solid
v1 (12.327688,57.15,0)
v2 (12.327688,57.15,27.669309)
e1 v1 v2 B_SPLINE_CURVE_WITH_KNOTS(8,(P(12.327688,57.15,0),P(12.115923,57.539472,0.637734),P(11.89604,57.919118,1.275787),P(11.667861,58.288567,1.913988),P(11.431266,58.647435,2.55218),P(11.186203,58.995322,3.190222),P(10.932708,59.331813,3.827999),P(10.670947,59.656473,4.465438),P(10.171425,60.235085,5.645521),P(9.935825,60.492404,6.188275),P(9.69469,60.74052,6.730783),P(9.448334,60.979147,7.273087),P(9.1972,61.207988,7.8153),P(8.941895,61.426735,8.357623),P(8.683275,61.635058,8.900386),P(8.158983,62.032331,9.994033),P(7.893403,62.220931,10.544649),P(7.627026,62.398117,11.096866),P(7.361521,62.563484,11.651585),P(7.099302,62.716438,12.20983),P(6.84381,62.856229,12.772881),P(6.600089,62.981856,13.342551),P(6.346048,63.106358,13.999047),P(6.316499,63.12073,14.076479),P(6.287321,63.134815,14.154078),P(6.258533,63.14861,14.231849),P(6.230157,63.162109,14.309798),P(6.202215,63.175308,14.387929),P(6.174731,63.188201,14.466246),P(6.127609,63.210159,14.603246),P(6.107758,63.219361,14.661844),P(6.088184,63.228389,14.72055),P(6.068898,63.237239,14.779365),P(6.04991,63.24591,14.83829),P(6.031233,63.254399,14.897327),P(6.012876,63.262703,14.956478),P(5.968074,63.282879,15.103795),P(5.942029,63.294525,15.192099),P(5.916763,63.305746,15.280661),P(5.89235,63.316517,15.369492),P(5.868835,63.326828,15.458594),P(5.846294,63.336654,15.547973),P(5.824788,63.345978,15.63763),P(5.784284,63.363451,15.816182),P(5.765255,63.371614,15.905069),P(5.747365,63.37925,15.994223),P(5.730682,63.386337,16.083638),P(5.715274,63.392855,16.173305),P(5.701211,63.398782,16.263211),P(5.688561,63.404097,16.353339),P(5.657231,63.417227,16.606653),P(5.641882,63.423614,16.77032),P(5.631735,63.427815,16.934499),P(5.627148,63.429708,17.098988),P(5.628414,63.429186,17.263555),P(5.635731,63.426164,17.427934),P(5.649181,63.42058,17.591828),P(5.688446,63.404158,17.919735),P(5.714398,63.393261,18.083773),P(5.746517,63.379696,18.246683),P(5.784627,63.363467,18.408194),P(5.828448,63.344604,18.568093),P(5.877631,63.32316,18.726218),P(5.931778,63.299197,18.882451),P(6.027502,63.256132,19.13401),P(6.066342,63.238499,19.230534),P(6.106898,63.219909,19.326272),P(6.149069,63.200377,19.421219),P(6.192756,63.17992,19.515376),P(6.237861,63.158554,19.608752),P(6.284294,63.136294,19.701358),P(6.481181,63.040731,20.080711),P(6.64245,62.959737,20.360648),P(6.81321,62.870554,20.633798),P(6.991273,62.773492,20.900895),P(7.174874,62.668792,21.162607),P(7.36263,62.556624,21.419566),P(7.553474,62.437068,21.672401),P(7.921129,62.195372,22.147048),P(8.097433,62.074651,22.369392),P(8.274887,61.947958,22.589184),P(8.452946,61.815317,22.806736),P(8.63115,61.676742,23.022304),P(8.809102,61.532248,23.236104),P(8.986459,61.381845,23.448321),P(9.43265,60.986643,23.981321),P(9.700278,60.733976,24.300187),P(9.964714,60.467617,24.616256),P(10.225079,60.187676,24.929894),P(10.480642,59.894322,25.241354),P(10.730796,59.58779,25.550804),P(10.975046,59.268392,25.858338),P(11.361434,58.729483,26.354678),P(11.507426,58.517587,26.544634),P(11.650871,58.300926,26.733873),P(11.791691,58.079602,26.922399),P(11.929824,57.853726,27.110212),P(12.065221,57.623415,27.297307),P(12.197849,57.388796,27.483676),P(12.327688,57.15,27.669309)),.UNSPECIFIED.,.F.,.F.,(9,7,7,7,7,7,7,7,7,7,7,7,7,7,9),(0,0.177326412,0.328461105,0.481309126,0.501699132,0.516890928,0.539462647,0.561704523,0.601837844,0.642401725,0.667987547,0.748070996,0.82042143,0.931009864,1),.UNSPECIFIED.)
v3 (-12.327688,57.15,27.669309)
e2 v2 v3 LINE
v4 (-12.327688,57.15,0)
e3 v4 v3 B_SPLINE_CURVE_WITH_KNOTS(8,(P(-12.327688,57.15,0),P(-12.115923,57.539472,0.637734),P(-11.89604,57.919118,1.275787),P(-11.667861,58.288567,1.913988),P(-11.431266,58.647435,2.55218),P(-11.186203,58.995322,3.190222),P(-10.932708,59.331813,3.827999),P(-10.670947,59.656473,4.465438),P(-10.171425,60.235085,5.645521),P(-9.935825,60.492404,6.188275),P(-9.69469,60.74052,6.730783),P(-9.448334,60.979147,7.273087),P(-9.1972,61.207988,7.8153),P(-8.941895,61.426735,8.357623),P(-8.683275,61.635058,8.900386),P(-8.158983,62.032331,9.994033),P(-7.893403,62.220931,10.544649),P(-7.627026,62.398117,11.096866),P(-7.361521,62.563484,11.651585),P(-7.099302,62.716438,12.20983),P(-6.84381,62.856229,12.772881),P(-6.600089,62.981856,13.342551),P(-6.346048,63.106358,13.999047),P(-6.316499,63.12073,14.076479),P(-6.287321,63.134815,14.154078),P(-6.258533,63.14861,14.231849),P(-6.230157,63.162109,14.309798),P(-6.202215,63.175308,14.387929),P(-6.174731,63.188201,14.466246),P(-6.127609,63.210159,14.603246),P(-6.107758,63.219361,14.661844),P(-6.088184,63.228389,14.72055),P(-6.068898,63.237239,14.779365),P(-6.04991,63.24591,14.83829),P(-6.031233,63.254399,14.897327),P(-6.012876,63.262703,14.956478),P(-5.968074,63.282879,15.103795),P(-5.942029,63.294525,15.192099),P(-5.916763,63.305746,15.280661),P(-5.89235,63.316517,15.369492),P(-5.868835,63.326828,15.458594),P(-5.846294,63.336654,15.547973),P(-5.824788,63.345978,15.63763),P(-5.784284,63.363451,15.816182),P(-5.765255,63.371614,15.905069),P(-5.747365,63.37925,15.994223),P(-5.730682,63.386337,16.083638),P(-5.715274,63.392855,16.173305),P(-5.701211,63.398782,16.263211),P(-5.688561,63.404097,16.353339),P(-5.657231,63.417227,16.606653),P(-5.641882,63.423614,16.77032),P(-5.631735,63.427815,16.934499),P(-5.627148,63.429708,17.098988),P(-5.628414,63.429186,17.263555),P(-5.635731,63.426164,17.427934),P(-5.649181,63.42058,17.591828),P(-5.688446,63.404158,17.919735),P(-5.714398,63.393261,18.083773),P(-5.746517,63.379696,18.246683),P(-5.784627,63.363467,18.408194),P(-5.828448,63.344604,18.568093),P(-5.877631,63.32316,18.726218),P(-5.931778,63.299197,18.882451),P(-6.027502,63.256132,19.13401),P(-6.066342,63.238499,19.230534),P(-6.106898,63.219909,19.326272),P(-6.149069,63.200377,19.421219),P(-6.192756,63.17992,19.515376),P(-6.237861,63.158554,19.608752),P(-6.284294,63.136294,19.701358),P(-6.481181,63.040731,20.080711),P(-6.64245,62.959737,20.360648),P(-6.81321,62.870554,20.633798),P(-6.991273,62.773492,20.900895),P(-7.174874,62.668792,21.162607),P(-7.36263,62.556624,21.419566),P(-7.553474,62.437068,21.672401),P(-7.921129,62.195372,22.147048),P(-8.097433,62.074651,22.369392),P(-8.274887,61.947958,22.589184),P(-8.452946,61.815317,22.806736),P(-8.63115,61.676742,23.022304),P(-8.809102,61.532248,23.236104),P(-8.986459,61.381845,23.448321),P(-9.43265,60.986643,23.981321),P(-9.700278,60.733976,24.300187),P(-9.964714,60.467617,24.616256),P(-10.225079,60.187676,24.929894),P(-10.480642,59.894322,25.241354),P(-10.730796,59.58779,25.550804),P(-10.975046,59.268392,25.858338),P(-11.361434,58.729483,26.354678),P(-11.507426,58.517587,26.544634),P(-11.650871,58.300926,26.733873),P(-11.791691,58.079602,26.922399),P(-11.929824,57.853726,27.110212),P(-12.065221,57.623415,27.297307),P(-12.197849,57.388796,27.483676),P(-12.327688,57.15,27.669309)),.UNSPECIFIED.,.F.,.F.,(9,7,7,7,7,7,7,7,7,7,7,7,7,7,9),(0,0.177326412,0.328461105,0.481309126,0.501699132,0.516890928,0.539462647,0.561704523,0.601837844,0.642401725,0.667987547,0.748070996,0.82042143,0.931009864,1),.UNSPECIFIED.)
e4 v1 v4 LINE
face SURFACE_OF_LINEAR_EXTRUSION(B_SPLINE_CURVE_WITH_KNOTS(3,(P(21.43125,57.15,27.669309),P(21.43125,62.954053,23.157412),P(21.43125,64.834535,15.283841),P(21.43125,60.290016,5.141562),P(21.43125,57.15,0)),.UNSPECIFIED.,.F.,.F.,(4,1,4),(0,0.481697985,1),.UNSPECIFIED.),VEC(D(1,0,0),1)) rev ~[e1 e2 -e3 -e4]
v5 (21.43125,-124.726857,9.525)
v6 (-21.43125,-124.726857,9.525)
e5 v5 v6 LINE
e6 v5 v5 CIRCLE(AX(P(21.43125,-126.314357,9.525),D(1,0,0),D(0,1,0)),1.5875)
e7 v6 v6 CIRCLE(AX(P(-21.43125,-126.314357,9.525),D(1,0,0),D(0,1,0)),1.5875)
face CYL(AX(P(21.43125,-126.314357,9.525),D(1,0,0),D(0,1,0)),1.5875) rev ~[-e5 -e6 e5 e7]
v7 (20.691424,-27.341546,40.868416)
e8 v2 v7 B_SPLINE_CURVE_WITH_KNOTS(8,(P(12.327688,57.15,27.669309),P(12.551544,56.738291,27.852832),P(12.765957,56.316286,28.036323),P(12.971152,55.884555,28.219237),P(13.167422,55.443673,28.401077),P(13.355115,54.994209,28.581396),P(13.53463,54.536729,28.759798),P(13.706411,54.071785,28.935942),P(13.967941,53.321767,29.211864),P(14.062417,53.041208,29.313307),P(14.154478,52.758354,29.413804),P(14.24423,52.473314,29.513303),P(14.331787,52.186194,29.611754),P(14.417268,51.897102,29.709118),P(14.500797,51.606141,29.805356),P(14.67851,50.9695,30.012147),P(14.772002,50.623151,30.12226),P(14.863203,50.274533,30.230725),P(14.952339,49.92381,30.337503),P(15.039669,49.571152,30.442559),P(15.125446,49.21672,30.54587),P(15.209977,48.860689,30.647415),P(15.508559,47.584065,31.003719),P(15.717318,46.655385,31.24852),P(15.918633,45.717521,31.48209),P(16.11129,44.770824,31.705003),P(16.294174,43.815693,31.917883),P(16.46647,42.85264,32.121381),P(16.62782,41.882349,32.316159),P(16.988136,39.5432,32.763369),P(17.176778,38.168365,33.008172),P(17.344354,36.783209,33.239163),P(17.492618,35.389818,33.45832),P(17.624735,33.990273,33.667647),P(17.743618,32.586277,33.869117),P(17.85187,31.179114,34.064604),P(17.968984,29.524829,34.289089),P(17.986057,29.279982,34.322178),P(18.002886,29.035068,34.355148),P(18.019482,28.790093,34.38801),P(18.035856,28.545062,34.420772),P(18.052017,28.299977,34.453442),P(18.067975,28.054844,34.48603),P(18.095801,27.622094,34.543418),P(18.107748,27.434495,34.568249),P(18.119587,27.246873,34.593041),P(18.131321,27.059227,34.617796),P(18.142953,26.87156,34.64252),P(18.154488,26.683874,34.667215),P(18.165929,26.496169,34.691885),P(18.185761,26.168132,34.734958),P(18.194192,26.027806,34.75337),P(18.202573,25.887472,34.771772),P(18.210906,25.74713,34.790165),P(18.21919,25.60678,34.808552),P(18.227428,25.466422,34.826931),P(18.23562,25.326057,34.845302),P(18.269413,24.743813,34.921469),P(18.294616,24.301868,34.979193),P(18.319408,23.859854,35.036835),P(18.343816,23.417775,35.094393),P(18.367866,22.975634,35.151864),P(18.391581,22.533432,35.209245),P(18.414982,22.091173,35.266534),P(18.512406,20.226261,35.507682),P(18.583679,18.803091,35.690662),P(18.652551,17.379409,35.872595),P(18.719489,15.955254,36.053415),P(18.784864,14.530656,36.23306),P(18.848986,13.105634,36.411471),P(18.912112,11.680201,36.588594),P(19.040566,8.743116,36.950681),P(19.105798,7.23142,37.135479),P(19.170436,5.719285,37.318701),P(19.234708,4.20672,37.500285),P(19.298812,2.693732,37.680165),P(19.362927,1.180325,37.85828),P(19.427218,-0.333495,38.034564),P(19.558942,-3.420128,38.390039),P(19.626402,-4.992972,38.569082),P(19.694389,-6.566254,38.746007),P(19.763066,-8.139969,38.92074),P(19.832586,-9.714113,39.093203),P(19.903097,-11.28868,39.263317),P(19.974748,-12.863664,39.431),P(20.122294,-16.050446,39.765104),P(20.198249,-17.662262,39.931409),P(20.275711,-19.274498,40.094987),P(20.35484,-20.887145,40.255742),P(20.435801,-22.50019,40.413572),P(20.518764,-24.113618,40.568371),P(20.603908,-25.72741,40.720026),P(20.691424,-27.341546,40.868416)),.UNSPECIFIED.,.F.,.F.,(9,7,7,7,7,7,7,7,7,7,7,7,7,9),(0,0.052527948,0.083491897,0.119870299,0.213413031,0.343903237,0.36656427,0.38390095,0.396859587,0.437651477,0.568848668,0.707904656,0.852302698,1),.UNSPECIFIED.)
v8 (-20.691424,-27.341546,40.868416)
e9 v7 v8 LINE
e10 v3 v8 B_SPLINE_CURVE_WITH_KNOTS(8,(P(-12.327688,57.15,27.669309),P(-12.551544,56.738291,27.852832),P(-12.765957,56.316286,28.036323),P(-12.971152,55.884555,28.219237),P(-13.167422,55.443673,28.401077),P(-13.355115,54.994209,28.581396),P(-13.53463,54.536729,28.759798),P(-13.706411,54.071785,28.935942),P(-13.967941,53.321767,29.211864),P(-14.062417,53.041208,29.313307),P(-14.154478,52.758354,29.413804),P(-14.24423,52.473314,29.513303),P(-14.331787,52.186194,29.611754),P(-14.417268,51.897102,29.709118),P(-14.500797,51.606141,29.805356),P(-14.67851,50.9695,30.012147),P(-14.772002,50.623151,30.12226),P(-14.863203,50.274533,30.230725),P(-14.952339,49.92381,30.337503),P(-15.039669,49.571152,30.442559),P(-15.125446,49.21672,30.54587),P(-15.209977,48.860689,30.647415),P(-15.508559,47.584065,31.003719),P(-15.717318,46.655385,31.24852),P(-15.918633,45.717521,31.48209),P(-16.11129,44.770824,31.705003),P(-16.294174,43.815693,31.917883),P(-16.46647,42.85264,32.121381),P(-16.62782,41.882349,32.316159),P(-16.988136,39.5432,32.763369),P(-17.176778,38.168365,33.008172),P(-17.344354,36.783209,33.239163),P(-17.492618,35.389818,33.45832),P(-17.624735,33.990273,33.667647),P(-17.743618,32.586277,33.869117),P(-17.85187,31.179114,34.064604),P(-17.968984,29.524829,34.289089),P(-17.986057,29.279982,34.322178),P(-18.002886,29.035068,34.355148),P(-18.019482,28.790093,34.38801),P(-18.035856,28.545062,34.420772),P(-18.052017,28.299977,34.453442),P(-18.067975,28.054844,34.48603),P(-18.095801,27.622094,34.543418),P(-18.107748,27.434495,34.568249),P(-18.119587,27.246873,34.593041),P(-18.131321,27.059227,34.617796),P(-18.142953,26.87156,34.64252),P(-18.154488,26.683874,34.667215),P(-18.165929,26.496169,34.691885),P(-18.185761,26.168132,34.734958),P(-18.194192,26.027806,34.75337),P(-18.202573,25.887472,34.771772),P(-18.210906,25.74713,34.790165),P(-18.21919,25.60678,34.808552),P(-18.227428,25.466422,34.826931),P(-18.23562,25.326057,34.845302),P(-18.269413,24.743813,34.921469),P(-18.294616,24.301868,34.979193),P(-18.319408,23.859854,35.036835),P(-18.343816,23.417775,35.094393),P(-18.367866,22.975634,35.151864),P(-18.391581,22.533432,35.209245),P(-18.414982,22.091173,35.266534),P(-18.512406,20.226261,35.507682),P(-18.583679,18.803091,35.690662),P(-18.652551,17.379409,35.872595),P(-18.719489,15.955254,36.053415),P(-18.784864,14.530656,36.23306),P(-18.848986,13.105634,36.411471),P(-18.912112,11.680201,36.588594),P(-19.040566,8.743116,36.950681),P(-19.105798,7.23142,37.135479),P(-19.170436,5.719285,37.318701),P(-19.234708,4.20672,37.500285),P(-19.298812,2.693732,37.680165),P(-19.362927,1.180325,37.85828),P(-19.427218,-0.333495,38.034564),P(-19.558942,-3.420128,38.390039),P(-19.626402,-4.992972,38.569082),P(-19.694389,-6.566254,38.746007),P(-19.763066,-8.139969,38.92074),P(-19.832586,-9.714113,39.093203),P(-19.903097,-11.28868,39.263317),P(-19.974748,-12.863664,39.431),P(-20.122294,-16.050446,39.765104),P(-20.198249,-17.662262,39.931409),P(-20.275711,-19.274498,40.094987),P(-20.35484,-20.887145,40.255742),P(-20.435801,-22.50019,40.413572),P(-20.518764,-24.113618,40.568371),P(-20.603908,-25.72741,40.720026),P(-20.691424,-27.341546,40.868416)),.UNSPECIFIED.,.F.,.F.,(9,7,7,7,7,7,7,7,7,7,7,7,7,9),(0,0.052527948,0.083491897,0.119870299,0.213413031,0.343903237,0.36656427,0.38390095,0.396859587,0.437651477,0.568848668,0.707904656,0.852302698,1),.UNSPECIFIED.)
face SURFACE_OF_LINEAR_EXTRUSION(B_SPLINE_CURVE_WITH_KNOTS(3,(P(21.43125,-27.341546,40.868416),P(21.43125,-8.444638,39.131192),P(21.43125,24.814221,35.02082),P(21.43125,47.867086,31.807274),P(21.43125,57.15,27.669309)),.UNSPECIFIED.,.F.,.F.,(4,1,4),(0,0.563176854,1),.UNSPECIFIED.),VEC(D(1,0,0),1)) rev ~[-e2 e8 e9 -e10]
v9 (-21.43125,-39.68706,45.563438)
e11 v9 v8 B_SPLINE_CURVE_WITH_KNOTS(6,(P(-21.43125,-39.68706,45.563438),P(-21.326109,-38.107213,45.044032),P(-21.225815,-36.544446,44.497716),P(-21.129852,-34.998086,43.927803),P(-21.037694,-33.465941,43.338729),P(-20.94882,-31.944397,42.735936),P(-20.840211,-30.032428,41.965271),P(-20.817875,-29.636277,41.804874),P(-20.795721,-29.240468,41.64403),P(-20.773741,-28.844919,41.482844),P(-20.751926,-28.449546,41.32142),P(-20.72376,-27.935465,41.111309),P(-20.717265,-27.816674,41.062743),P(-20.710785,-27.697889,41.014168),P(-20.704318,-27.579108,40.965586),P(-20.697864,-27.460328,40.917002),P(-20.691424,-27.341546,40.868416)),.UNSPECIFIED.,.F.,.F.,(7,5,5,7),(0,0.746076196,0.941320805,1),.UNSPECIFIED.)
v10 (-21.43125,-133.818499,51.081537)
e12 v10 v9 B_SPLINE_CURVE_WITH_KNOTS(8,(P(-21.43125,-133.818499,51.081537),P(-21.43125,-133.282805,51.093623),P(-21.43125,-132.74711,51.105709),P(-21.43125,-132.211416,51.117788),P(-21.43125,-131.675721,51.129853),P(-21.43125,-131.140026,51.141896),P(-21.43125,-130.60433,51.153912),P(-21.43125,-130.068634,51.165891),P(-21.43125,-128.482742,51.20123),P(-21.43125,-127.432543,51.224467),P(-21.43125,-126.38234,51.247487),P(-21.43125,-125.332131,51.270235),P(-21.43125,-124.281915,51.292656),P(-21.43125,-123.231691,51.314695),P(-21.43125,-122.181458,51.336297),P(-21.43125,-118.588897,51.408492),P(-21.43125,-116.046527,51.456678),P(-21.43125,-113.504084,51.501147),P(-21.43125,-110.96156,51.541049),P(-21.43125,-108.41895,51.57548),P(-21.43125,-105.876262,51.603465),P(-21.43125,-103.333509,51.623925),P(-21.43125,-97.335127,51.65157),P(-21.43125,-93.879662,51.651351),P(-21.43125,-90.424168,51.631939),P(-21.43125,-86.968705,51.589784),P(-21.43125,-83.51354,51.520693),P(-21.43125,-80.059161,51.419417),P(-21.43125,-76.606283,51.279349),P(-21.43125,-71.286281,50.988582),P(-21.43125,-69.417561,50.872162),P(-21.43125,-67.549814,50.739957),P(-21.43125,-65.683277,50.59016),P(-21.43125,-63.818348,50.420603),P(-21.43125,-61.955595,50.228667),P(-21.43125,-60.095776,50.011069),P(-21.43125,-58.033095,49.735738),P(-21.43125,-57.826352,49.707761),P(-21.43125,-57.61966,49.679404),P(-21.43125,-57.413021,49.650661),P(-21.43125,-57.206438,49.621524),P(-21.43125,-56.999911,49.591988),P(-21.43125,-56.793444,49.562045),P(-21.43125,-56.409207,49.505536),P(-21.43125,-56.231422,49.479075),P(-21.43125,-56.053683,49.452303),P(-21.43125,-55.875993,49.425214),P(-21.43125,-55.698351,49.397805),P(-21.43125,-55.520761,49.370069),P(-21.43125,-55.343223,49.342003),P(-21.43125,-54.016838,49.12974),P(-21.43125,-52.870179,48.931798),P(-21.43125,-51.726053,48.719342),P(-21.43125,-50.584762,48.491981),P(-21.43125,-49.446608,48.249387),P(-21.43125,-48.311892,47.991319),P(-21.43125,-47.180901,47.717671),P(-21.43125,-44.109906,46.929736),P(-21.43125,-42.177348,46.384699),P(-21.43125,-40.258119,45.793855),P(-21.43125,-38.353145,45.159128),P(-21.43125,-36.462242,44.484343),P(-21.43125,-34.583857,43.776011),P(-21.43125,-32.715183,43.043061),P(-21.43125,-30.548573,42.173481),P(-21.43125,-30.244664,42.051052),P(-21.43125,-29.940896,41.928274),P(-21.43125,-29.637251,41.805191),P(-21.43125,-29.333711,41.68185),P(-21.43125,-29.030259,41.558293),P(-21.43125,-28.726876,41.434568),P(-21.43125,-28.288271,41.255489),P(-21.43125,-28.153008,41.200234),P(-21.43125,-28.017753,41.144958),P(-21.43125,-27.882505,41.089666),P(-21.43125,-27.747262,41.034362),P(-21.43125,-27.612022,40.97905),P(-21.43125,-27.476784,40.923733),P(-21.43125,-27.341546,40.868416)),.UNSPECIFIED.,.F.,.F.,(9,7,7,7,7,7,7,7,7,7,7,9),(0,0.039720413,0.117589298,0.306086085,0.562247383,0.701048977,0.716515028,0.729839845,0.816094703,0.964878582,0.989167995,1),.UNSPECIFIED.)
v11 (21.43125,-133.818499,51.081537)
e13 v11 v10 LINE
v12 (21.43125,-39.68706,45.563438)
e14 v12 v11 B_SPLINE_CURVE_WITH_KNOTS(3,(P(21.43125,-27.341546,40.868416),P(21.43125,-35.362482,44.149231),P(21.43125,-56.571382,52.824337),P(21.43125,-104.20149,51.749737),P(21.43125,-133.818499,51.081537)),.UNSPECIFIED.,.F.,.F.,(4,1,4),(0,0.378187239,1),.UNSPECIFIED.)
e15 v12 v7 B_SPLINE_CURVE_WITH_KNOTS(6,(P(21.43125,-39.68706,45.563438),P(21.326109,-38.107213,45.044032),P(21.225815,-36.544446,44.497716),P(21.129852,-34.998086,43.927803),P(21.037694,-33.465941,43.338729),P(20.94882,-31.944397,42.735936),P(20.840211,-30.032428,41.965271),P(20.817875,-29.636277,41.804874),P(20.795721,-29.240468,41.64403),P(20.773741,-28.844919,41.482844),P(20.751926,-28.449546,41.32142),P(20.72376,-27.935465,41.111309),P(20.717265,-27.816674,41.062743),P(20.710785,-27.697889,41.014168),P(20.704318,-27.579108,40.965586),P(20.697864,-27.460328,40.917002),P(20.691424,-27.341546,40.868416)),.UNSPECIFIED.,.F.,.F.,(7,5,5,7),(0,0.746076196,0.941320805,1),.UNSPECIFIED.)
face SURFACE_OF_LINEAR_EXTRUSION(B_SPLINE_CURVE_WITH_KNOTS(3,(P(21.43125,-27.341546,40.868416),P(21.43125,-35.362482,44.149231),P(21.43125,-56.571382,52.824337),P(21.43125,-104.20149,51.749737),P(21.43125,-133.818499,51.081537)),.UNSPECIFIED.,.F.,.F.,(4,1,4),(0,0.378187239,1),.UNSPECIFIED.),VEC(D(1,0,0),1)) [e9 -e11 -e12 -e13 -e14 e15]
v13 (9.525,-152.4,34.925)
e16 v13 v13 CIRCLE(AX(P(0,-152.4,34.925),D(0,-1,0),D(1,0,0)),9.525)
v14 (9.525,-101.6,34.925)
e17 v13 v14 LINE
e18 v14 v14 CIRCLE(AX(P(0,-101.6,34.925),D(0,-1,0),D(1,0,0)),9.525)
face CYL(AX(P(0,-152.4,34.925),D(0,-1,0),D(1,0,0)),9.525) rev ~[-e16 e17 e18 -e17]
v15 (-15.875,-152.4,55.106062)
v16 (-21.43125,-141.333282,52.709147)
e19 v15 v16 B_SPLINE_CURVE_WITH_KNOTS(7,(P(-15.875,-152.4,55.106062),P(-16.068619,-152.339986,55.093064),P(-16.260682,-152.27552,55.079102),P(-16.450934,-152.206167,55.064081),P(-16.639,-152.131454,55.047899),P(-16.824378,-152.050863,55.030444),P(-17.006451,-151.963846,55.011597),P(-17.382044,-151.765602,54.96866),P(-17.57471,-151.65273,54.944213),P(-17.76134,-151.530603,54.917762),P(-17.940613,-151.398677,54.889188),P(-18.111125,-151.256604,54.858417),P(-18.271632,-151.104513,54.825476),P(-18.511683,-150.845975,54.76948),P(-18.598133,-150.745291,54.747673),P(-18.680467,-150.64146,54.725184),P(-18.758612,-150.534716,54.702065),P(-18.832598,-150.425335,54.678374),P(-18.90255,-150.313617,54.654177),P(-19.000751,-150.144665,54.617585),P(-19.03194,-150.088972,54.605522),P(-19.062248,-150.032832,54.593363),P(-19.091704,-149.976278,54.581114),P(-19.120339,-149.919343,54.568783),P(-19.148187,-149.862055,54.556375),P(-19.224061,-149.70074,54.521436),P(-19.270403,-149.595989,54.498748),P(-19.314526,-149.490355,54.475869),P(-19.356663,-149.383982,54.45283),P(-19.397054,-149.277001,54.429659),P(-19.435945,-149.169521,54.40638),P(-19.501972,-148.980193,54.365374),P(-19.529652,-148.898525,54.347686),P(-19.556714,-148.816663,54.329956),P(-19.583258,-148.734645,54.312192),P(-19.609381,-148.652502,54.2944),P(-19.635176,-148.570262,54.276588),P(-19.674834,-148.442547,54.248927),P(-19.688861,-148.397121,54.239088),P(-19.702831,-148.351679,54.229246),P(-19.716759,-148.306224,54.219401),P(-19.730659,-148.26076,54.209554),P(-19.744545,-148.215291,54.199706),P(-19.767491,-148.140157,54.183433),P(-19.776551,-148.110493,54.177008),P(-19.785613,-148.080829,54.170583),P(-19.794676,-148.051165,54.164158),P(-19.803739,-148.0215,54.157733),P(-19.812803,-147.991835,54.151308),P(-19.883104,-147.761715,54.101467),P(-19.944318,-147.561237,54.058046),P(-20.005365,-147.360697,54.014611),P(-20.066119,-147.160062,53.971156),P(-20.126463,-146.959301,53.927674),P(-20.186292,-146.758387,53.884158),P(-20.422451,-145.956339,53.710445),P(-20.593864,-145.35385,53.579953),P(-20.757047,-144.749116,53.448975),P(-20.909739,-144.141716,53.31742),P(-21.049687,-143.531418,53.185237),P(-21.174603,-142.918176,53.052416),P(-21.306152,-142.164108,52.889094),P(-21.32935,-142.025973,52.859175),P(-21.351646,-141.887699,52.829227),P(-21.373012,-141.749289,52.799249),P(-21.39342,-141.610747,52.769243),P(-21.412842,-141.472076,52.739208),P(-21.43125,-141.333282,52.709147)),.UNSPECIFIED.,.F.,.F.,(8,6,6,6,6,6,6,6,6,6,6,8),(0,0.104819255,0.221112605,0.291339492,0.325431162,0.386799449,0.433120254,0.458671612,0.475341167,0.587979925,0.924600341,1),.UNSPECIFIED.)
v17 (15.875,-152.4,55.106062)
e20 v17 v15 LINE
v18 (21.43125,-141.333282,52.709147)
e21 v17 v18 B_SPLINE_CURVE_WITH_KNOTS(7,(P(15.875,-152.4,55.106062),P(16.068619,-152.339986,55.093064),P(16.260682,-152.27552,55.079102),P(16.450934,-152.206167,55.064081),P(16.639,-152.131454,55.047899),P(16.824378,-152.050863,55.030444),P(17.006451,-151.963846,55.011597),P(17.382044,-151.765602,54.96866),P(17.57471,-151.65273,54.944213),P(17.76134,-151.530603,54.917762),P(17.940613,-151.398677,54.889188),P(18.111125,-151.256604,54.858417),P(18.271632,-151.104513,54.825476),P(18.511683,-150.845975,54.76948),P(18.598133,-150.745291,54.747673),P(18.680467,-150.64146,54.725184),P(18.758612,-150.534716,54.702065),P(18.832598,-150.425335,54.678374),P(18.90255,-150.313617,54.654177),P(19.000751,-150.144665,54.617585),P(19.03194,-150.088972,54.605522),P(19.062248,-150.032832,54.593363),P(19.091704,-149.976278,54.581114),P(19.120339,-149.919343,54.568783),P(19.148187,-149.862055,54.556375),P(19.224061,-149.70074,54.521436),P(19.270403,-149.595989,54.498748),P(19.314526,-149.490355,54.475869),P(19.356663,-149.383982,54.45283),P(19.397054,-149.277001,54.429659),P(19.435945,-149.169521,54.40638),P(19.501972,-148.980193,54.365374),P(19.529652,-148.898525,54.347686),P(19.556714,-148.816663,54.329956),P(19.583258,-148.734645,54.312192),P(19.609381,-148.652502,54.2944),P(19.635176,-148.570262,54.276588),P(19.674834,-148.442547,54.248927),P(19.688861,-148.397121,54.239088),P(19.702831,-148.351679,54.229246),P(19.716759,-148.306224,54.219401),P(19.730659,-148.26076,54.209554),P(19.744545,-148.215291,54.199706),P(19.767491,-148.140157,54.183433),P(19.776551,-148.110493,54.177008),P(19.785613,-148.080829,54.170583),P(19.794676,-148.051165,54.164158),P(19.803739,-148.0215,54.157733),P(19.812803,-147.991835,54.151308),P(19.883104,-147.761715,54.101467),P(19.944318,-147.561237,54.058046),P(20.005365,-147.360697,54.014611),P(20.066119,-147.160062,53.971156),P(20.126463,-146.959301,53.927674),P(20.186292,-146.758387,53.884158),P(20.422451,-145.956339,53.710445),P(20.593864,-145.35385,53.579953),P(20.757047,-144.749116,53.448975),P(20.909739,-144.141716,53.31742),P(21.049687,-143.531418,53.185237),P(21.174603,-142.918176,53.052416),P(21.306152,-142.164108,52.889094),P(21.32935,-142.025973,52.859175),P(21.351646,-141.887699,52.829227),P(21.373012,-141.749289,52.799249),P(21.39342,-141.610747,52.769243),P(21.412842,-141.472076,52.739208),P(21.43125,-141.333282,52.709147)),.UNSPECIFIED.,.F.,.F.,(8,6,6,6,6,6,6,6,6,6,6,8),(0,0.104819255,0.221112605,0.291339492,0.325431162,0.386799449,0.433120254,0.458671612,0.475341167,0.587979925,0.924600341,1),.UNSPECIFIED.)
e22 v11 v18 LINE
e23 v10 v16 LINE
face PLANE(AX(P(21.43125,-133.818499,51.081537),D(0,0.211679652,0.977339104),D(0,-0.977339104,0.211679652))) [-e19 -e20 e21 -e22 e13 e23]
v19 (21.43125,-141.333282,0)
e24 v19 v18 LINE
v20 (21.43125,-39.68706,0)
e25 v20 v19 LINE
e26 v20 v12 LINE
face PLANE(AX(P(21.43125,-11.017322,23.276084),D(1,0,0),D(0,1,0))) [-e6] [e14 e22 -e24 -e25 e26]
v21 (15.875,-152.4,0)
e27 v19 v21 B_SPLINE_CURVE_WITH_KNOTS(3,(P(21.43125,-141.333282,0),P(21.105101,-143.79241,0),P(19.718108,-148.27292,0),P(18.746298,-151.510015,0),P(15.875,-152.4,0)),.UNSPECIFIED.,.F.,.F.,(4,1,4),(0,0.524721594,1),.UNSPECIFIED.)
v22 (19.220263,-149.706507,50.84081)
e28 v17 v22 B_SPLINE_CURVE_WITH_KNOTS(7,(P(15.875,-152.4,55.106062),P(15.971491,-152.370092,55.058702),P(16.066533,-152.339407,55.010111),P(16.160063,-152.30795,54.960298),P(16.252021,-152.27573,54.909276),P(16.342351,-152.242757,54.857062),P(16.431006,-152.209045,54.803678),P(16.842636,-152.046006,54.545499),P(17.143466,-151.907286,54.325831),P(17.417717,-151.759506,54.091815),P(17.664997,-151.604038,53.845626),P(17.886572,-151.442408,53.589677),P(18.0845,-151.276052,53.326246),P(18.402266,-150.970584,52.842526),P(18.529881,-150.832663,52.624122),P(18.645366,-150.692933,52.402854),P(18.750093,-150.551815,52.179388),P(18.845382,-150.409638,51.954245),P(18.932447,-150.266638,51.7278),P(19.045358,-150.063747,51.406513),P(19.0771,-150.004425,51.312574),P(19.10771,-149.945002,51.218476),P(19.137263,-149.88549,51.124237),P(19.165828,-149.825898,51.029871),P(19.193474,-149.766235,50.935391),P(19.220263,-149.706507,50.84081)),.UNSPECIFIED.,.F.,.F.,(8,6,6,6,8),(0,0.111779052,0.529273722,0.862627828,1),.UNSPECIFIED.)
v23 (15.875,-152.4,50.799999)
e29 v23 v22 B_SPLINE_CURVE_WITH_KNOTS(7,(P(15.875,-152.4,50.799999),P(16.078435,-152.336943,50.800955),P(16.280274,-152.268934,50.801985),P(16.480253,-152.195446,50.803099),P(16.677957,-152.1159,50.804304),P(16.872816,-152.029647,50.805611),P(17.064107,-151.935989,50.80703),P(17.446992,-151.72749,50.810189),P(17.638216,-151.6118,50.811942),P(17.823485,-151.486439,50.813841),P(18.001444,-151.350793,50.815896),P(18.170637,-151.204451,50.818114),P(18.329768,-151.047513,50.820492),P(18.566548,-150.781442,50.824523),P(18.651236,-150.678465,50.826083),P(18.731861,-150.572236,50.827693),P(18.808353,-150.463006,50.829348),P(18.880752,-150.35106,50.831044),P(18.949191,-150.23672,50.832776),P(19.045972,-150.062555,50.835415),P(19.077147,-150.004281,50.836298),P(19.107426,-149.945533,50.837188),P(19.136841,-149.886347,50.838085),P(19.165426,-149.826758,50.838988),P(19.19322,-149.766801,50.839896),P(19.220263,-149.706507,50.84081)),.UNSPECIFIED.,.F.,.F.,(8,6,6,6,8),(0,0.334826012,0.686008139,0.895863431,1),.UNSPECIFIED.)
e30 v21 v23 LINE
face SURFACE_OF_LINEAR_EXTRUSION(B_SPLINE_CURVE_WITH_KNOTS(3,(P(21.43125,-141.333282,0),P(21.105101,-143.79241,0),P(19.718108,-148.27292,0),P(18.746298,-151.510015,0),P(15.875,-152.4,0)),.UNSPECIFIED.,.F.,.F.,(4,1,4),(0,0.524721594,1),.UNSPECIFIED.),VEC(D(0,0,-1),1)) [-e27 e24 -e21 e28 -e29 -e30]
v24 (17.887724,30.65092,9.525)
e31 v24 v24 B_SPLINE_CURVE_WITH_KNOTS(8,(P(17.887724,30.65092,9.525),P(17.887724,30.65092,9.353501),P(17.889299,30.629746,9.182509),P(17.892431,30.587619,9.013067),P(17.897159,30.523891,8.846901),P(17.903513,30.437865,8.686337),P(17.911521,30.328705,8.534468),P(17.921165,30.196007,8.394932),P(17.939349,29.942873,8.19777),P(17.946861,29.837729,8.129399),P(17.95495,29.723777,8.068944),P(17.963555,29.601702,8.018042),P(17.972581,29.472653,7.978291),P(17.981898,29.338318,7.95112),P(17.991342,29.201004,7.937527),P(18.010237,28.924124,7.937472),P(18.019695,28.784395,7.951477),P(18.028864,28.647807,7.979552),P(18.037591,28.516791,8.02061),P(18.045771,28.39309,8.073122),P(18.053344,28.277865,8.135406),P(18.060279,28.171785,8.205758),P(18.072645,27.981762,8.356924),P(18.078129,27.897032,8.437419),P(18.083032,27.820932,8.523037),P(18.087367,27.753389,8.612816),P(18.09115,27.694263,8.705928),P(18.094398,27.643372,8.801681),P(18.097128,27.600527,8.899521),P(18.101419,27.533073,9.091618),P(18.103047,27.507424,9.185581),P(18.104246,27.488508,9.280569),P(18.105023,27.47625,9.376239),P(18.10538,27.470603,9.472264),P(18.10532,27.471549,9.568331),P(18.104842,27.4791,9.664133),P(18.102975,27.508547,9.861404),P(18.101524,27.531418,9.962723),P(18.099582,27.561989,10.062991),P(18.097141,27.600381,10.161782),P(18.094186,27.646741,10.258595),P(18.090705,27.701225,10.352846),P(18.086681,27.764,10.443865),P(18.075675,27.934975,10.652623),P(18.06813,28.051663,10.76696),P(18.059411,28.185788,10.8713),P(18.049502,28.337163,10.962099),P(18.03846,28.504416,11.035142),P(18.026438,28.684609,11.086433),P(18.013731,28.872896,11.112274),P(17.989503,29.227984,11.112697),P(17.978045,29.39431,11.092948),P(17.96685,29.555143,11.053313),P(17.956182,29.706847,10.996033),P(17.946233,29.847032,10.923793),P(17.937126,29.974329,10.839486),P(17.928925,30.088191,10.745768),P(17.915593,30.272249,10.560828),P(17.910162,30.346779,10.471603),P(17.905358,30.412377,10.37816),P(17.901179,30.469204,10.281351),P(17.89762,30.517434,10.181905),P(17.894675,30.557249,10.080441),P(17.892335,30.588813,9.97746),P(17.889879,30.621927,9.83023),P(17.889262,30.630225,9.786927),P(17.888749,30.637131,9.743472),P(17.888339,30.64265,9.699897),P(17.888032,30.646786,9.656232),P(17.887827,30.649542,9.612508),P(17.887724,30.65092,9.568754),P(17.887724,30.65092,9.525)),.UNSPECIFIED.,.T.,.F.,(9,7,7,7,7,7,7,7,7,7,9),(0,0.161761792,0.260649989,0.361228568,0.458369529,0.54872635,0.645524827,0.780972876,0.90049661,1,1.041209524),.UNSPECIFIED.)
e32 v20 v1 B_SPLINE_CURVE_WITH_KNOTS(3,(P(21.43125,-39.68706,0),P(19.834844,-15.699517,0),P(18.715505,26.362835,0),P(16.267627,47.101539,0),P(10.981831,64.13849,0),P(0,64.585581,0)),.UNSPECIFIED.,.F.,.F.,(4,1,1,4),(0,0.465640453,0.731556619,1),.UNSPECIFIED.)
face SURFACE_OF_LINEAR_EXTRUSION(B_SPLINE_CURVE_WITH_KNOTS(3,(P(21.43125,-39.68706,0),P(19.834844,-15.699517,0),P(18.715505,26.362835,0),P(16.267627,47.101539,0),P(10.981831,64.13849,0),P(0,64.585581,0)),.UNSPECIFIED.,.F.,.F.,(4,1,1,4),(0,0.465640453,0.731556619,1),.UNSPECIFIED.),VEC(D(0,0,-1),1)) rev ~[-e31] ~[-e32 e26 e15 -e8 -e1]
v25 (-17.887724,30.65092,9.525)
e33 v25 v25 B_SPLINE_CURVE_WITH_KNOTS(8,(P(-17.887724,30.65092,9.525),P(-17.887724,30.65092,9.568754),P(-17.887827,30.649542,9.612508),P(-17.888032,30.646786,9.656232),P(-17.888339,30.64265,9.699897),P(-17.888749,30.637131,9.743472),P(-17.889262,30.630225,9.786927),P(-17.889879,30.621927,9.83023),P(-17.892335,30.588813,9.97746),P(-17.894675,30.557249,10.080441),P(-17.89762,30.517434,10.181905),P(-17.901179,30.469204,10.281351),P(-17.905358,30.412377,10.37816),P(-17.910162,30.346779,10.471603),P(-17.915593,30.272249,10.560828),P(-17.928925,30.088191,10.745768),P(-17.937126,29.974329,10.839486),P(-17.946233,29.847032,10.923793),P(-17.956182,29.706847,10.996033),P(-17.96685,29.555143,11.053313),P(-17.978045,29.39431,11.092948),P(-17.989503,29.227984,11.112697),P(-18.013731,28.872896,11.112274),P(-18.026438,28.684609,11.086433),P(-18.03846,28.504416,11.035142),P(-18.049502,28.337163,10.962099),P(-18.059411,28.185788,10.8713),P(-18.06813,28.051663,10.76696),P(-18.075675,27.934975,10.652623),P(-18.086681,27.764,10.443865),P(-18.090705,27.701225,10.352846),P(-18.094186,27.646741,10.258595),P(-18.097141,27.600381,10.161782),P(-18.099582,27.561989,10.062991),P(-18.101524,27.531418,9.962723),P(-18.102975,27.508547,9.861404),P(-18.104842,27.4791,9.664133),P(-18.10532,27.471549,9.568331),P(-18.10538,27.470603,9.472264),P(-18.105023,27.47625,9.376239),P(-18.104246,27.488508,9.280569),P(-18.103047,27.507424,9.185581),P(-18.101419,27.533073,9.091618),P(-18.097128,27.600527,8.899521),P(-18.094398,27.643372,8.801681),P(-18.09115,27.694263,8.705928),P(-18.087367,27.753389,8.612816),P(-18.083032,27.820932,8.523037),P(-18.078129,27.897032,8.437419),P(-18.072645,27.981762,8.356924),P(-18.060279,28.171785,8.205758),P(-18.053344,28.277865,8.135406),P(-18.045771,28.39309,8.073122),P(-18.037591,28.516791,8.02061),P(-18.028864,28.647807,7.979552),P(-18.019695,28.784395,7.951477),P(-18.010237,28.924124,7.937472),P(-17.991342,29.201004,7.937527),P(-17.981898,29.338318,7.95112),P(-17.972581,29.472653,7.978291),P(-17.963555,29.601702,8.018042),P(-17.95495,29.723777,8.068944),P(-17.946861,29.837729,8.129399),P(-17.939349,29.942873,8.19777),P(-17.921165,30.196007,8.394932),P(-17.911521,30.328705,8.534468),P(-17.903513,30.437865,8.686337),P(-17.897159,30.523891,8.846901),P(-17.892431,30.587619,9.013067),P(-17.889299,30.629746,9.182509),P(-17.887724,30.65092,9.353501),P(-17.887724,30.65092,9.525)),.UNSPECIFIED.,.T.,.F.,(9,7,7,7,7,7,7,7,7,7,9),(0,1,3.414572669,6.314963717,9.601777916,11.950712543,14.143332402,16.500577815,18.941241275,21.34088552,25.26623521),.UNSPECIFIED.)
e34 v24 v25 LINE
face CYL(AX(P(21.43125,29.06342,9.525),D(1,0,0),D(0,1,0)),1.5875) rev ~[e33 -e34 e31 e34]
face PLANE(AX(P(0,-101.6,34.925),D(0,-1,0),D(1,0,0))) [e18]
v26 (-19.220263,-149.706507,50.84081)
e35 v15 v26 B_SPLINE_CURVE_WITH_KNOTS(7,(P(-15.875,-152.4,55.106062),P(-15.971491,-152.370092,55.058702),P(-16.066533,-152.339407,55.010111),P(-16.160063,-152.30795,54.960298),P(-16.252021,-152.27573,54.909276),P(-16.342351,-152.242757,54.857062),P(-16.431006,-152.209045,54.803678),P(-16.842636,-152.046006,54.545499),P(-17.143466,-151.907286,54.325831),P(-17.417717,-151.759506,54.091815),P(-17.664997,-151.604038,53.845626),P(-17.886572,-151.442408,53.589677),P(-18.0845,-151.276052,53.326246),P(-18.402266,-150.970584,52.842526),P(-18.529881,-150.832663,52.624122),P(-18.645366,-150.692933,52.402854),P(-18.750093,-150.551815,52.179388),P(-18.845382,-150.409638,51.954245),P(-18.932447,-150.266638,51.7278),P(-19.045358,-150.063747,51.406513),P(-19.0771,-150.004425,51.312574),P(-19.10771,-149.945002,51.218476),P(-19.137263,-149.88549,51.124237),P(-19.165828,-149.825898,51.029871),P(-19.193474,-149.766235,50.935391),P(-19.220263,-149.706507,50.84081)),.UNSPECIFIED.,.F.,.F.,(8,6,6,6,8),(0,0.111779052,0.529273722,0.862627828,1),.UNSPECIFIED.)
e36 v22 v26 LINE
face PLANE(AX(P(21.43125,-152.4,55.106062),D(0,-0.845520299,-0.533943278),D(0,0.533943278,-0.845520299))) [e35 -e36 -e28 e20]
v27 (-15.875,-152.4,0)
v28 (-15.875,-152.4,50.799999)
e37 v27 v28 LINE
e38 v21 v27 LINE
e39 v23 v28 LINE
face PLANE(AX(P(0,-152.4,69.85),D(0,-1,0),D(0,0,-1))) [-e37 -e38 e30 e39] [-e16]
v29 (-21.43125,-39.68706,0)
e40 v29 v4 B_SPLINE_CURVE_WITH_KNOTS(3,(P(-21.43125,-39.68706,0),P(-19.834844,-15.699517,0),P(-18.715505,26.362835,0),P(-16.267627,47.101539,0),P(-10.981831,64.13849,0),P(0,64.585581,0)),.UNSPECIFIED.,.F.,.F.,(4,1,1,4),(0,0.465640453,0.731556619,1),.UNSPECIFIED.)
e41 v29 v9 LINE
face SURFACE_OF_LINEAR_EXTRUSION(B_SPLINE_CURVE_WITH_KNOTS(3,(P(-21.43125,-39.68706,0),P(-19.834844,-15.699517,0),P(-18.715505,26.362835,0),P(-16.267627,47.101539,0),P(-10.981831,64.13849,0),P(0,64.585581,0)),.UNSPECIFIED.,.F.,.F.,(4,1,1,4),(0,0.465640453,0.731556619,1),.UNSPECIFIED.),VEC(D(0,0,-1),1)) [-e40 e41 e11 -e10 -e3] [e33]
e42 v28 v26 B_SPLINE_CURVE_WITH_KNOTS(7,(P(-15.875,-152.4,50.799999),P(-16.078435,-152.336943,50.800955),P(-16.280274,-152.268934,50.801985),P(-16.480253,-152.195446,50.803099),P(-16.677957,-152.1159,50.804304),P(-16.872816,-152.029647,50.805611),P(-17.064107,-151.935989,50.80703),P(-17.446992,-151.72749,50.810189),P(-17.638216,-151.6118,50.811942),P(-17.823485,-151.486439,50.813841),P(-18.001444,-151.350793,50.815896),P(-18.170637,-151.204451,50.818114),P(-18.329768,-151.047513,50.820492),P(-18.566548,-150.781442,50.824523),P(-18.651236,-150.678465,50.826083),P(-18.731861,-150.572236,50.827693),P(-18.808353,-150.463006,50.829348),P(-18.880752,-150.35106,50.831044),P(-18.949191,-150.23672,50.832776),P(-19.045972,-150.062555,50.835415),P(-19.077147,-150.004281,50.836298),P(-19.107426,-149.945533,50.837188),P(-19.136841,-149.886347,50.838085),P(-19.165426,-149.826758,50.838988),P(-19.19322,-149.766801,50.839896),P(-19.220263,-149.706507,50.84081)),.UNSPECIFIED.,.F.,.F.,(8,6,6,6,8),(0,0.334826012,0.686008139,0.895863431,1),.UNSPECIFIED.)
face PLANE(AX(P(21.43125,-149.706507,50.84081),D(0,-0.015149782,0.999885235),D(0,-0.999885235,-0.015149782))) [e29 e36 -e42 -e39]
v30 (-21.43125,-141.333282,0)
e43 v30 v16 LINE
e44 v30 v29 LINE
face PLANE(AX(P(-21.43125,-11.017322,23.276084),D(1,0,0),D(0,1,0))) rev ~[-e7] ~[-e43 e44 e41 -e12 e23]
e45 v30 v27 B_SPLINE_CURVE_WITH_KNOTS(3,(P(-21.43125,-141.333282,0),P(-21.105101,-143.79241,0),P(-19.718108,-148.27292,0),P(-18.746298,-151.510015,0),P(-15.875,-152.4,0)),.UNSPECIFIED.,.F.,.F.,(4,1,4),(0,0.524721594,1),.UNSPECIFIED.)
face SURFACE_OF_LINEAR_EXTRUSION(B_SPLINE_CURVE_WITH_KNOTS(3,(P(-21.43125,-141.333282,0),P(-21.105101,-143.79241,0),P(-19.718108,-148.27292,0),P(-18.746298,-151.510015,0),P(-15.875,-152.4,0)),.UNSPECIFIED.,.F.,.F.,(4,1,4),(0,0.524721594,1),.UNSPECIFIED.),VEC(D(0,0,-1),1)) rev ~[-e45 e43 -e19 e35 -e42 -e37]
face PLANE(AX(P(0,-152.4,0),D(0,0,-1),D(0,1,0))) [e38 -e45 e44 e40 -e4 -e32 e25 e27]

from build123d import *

# Parameters (mm, degrees)
F1_DEPTH = 21.43125
F2_R     = 9.525
F3_DEPTH = 50.8
F4_R     = 1.5875
F6_DEPTH = 42.8635
F7_DEPTH = 55.1070625421


with BuildPart() as f1:
    # F0 (on Right) → F1 (new body, symmetric)
    with BuildSketch(Plane.YZ):
        Polygon((-152.4, 69.85), (-152.4, 0), (152.4, 0), (152.4, 19.05), align=None)
    extrude(amount=F1_DEPTH, both=True)

    # F2 (on face) → F3 (cut)
    with BuildSketch(Plane.XZ.offset(152.4)):
        with Locations((0, 34.925)):
            Circle(F2_R)
    extrude(amount=-F3_DEPTH, mode=Mode.SUBTRACT)

    # F4 (on face) → F6 (intersect, through all)
    with BuildSketch(Plane.YZ.offset(21.43125)):
        with BuildLine():
            Line((-149.7065071007, 50.8408099003), (-152.4, 50.7999993861))
            Line((-152.4, 50.7999993861), (-152.4, 0))
            Line((-152.4, 0), (57.15, 0))
            add(Edge.make_bspline(
                [(57.15, 27.6693087071), (62.9540532827, 23.1574121863), (64.8345353288, 15.2838414165), (60.2900164004, 5.1415623251), (57.15, 0)],
                knots=[0, 0, 0, 0, 0.4816979855, 1, 1, 1, 1], degree=3))
            add(Edge.make_bspline(
                [(-27.3415464908, 40.8684164286), (-8.4446382918, 39.1311924639), (24.8142205738, 35.0208202174), (47.8670857847, 31.8072736263), (57.15, 27.6693087071)],
                knots=[0, 0, 0, 0, 0.5631768545, 1, 1, 1, 1], degree=3))
            add(Edge.make_bspline(
                [(-27.3415464908, 40.8684164286), (-35.3624819778, 44.1492309528), (-56.5713824039, 52.8243373258), (-104.2014900273, 51.7497373627), (-133.8184987721, 51.0815373923)],
                knots=[0, 0, 0, 0, 0.3781872386, 1, 1, 1, 1], degree=3))
            Line((-133.8184987721, 51.0815373923), (-152.4, 55.1060624421))
            Line((-152.4, 55.1060624421), (-149.7065071007, 50.8408099003))
        make_face()
        with Locations((-126.3143569231, 9.525)):
            Circle(F4_R, mode=Mode.SUBTRACT)
        with Locations((29.0634203702, 9.525)):
            Circle(F4_R, mode=Mode.SUBTRACT)
    extrude(amount=-F6_DEPTH, mode=Mode.INTERSECT)

    # F5 (on face) → F7 (intersect, through all)
    with BuildSketch(Plane(origin=(0, 0, 0), x_dir=(1, 0, 0), z_dir=(0, 0, -1))):
        with BuildLine():
            add(Edge.make_bspline(
                [(-21.43125, 141.3332819939), (-21.105100692, 143.7924098417), (-19.7181081761, 148.2729204744), (-18.7462978065, 151.51001513), (-15.875, 152.4)],
                knots=[0, 0, 0, 0, 0.5247215937, 1, 1, 1, 1], degree=3))
            Line((-21.43125, 141.3332819939), (-21.43125, 39.6870598197))
            add(Edge.make_bspline(
                [(-21.43125, 39.6870598197), (-19.8348436954, 15.699516797), (-18.7155051196, -26.3628345266), (-16.2676267963, -47.1015389649), (-10.981831047, -64.1384903262), (0, -64.5855814219)],
                knots=[0, 0, 0, 0, 0.4656404532, 0.7315566193, 1, 1, 1, 1], degree=3))
            add(Edge.make_bspline(
                [(21.43125, 39.6870598197), (19.8348436954, 15.699516797), (18.7155051196, -26.3628345266), (16.2676267963, -47.1015389649), (10.981831047, -64.1384903262), (0, -64.5855814219)],
                knots=[0, 0, 0, 0, 0.4656404532, 0.7315566193, 1, 1, 1, 1], degree=3))
            Line((21.43125, 39.6870598197), (21.43125, 141.3332819939))
            add(Edge.make_bspline(
                [(21.43125, 141.3332819939), (21.105100692, 143.7924098417), (19.7181081761, 148.2729204744), (18.7462978065, 151.51001513), (15.875, 152.4)],
                knots=[0, 0, 0, 0, 0.5247215937, 1, 1, 1, 1], degree=3))
            Line((15.875, 152.4), (-15.875, 152.4))
        make_face()
    extrude(amount=-F7_DEPTH, mode=Mode.INTERSECT)


solid = f1.part
